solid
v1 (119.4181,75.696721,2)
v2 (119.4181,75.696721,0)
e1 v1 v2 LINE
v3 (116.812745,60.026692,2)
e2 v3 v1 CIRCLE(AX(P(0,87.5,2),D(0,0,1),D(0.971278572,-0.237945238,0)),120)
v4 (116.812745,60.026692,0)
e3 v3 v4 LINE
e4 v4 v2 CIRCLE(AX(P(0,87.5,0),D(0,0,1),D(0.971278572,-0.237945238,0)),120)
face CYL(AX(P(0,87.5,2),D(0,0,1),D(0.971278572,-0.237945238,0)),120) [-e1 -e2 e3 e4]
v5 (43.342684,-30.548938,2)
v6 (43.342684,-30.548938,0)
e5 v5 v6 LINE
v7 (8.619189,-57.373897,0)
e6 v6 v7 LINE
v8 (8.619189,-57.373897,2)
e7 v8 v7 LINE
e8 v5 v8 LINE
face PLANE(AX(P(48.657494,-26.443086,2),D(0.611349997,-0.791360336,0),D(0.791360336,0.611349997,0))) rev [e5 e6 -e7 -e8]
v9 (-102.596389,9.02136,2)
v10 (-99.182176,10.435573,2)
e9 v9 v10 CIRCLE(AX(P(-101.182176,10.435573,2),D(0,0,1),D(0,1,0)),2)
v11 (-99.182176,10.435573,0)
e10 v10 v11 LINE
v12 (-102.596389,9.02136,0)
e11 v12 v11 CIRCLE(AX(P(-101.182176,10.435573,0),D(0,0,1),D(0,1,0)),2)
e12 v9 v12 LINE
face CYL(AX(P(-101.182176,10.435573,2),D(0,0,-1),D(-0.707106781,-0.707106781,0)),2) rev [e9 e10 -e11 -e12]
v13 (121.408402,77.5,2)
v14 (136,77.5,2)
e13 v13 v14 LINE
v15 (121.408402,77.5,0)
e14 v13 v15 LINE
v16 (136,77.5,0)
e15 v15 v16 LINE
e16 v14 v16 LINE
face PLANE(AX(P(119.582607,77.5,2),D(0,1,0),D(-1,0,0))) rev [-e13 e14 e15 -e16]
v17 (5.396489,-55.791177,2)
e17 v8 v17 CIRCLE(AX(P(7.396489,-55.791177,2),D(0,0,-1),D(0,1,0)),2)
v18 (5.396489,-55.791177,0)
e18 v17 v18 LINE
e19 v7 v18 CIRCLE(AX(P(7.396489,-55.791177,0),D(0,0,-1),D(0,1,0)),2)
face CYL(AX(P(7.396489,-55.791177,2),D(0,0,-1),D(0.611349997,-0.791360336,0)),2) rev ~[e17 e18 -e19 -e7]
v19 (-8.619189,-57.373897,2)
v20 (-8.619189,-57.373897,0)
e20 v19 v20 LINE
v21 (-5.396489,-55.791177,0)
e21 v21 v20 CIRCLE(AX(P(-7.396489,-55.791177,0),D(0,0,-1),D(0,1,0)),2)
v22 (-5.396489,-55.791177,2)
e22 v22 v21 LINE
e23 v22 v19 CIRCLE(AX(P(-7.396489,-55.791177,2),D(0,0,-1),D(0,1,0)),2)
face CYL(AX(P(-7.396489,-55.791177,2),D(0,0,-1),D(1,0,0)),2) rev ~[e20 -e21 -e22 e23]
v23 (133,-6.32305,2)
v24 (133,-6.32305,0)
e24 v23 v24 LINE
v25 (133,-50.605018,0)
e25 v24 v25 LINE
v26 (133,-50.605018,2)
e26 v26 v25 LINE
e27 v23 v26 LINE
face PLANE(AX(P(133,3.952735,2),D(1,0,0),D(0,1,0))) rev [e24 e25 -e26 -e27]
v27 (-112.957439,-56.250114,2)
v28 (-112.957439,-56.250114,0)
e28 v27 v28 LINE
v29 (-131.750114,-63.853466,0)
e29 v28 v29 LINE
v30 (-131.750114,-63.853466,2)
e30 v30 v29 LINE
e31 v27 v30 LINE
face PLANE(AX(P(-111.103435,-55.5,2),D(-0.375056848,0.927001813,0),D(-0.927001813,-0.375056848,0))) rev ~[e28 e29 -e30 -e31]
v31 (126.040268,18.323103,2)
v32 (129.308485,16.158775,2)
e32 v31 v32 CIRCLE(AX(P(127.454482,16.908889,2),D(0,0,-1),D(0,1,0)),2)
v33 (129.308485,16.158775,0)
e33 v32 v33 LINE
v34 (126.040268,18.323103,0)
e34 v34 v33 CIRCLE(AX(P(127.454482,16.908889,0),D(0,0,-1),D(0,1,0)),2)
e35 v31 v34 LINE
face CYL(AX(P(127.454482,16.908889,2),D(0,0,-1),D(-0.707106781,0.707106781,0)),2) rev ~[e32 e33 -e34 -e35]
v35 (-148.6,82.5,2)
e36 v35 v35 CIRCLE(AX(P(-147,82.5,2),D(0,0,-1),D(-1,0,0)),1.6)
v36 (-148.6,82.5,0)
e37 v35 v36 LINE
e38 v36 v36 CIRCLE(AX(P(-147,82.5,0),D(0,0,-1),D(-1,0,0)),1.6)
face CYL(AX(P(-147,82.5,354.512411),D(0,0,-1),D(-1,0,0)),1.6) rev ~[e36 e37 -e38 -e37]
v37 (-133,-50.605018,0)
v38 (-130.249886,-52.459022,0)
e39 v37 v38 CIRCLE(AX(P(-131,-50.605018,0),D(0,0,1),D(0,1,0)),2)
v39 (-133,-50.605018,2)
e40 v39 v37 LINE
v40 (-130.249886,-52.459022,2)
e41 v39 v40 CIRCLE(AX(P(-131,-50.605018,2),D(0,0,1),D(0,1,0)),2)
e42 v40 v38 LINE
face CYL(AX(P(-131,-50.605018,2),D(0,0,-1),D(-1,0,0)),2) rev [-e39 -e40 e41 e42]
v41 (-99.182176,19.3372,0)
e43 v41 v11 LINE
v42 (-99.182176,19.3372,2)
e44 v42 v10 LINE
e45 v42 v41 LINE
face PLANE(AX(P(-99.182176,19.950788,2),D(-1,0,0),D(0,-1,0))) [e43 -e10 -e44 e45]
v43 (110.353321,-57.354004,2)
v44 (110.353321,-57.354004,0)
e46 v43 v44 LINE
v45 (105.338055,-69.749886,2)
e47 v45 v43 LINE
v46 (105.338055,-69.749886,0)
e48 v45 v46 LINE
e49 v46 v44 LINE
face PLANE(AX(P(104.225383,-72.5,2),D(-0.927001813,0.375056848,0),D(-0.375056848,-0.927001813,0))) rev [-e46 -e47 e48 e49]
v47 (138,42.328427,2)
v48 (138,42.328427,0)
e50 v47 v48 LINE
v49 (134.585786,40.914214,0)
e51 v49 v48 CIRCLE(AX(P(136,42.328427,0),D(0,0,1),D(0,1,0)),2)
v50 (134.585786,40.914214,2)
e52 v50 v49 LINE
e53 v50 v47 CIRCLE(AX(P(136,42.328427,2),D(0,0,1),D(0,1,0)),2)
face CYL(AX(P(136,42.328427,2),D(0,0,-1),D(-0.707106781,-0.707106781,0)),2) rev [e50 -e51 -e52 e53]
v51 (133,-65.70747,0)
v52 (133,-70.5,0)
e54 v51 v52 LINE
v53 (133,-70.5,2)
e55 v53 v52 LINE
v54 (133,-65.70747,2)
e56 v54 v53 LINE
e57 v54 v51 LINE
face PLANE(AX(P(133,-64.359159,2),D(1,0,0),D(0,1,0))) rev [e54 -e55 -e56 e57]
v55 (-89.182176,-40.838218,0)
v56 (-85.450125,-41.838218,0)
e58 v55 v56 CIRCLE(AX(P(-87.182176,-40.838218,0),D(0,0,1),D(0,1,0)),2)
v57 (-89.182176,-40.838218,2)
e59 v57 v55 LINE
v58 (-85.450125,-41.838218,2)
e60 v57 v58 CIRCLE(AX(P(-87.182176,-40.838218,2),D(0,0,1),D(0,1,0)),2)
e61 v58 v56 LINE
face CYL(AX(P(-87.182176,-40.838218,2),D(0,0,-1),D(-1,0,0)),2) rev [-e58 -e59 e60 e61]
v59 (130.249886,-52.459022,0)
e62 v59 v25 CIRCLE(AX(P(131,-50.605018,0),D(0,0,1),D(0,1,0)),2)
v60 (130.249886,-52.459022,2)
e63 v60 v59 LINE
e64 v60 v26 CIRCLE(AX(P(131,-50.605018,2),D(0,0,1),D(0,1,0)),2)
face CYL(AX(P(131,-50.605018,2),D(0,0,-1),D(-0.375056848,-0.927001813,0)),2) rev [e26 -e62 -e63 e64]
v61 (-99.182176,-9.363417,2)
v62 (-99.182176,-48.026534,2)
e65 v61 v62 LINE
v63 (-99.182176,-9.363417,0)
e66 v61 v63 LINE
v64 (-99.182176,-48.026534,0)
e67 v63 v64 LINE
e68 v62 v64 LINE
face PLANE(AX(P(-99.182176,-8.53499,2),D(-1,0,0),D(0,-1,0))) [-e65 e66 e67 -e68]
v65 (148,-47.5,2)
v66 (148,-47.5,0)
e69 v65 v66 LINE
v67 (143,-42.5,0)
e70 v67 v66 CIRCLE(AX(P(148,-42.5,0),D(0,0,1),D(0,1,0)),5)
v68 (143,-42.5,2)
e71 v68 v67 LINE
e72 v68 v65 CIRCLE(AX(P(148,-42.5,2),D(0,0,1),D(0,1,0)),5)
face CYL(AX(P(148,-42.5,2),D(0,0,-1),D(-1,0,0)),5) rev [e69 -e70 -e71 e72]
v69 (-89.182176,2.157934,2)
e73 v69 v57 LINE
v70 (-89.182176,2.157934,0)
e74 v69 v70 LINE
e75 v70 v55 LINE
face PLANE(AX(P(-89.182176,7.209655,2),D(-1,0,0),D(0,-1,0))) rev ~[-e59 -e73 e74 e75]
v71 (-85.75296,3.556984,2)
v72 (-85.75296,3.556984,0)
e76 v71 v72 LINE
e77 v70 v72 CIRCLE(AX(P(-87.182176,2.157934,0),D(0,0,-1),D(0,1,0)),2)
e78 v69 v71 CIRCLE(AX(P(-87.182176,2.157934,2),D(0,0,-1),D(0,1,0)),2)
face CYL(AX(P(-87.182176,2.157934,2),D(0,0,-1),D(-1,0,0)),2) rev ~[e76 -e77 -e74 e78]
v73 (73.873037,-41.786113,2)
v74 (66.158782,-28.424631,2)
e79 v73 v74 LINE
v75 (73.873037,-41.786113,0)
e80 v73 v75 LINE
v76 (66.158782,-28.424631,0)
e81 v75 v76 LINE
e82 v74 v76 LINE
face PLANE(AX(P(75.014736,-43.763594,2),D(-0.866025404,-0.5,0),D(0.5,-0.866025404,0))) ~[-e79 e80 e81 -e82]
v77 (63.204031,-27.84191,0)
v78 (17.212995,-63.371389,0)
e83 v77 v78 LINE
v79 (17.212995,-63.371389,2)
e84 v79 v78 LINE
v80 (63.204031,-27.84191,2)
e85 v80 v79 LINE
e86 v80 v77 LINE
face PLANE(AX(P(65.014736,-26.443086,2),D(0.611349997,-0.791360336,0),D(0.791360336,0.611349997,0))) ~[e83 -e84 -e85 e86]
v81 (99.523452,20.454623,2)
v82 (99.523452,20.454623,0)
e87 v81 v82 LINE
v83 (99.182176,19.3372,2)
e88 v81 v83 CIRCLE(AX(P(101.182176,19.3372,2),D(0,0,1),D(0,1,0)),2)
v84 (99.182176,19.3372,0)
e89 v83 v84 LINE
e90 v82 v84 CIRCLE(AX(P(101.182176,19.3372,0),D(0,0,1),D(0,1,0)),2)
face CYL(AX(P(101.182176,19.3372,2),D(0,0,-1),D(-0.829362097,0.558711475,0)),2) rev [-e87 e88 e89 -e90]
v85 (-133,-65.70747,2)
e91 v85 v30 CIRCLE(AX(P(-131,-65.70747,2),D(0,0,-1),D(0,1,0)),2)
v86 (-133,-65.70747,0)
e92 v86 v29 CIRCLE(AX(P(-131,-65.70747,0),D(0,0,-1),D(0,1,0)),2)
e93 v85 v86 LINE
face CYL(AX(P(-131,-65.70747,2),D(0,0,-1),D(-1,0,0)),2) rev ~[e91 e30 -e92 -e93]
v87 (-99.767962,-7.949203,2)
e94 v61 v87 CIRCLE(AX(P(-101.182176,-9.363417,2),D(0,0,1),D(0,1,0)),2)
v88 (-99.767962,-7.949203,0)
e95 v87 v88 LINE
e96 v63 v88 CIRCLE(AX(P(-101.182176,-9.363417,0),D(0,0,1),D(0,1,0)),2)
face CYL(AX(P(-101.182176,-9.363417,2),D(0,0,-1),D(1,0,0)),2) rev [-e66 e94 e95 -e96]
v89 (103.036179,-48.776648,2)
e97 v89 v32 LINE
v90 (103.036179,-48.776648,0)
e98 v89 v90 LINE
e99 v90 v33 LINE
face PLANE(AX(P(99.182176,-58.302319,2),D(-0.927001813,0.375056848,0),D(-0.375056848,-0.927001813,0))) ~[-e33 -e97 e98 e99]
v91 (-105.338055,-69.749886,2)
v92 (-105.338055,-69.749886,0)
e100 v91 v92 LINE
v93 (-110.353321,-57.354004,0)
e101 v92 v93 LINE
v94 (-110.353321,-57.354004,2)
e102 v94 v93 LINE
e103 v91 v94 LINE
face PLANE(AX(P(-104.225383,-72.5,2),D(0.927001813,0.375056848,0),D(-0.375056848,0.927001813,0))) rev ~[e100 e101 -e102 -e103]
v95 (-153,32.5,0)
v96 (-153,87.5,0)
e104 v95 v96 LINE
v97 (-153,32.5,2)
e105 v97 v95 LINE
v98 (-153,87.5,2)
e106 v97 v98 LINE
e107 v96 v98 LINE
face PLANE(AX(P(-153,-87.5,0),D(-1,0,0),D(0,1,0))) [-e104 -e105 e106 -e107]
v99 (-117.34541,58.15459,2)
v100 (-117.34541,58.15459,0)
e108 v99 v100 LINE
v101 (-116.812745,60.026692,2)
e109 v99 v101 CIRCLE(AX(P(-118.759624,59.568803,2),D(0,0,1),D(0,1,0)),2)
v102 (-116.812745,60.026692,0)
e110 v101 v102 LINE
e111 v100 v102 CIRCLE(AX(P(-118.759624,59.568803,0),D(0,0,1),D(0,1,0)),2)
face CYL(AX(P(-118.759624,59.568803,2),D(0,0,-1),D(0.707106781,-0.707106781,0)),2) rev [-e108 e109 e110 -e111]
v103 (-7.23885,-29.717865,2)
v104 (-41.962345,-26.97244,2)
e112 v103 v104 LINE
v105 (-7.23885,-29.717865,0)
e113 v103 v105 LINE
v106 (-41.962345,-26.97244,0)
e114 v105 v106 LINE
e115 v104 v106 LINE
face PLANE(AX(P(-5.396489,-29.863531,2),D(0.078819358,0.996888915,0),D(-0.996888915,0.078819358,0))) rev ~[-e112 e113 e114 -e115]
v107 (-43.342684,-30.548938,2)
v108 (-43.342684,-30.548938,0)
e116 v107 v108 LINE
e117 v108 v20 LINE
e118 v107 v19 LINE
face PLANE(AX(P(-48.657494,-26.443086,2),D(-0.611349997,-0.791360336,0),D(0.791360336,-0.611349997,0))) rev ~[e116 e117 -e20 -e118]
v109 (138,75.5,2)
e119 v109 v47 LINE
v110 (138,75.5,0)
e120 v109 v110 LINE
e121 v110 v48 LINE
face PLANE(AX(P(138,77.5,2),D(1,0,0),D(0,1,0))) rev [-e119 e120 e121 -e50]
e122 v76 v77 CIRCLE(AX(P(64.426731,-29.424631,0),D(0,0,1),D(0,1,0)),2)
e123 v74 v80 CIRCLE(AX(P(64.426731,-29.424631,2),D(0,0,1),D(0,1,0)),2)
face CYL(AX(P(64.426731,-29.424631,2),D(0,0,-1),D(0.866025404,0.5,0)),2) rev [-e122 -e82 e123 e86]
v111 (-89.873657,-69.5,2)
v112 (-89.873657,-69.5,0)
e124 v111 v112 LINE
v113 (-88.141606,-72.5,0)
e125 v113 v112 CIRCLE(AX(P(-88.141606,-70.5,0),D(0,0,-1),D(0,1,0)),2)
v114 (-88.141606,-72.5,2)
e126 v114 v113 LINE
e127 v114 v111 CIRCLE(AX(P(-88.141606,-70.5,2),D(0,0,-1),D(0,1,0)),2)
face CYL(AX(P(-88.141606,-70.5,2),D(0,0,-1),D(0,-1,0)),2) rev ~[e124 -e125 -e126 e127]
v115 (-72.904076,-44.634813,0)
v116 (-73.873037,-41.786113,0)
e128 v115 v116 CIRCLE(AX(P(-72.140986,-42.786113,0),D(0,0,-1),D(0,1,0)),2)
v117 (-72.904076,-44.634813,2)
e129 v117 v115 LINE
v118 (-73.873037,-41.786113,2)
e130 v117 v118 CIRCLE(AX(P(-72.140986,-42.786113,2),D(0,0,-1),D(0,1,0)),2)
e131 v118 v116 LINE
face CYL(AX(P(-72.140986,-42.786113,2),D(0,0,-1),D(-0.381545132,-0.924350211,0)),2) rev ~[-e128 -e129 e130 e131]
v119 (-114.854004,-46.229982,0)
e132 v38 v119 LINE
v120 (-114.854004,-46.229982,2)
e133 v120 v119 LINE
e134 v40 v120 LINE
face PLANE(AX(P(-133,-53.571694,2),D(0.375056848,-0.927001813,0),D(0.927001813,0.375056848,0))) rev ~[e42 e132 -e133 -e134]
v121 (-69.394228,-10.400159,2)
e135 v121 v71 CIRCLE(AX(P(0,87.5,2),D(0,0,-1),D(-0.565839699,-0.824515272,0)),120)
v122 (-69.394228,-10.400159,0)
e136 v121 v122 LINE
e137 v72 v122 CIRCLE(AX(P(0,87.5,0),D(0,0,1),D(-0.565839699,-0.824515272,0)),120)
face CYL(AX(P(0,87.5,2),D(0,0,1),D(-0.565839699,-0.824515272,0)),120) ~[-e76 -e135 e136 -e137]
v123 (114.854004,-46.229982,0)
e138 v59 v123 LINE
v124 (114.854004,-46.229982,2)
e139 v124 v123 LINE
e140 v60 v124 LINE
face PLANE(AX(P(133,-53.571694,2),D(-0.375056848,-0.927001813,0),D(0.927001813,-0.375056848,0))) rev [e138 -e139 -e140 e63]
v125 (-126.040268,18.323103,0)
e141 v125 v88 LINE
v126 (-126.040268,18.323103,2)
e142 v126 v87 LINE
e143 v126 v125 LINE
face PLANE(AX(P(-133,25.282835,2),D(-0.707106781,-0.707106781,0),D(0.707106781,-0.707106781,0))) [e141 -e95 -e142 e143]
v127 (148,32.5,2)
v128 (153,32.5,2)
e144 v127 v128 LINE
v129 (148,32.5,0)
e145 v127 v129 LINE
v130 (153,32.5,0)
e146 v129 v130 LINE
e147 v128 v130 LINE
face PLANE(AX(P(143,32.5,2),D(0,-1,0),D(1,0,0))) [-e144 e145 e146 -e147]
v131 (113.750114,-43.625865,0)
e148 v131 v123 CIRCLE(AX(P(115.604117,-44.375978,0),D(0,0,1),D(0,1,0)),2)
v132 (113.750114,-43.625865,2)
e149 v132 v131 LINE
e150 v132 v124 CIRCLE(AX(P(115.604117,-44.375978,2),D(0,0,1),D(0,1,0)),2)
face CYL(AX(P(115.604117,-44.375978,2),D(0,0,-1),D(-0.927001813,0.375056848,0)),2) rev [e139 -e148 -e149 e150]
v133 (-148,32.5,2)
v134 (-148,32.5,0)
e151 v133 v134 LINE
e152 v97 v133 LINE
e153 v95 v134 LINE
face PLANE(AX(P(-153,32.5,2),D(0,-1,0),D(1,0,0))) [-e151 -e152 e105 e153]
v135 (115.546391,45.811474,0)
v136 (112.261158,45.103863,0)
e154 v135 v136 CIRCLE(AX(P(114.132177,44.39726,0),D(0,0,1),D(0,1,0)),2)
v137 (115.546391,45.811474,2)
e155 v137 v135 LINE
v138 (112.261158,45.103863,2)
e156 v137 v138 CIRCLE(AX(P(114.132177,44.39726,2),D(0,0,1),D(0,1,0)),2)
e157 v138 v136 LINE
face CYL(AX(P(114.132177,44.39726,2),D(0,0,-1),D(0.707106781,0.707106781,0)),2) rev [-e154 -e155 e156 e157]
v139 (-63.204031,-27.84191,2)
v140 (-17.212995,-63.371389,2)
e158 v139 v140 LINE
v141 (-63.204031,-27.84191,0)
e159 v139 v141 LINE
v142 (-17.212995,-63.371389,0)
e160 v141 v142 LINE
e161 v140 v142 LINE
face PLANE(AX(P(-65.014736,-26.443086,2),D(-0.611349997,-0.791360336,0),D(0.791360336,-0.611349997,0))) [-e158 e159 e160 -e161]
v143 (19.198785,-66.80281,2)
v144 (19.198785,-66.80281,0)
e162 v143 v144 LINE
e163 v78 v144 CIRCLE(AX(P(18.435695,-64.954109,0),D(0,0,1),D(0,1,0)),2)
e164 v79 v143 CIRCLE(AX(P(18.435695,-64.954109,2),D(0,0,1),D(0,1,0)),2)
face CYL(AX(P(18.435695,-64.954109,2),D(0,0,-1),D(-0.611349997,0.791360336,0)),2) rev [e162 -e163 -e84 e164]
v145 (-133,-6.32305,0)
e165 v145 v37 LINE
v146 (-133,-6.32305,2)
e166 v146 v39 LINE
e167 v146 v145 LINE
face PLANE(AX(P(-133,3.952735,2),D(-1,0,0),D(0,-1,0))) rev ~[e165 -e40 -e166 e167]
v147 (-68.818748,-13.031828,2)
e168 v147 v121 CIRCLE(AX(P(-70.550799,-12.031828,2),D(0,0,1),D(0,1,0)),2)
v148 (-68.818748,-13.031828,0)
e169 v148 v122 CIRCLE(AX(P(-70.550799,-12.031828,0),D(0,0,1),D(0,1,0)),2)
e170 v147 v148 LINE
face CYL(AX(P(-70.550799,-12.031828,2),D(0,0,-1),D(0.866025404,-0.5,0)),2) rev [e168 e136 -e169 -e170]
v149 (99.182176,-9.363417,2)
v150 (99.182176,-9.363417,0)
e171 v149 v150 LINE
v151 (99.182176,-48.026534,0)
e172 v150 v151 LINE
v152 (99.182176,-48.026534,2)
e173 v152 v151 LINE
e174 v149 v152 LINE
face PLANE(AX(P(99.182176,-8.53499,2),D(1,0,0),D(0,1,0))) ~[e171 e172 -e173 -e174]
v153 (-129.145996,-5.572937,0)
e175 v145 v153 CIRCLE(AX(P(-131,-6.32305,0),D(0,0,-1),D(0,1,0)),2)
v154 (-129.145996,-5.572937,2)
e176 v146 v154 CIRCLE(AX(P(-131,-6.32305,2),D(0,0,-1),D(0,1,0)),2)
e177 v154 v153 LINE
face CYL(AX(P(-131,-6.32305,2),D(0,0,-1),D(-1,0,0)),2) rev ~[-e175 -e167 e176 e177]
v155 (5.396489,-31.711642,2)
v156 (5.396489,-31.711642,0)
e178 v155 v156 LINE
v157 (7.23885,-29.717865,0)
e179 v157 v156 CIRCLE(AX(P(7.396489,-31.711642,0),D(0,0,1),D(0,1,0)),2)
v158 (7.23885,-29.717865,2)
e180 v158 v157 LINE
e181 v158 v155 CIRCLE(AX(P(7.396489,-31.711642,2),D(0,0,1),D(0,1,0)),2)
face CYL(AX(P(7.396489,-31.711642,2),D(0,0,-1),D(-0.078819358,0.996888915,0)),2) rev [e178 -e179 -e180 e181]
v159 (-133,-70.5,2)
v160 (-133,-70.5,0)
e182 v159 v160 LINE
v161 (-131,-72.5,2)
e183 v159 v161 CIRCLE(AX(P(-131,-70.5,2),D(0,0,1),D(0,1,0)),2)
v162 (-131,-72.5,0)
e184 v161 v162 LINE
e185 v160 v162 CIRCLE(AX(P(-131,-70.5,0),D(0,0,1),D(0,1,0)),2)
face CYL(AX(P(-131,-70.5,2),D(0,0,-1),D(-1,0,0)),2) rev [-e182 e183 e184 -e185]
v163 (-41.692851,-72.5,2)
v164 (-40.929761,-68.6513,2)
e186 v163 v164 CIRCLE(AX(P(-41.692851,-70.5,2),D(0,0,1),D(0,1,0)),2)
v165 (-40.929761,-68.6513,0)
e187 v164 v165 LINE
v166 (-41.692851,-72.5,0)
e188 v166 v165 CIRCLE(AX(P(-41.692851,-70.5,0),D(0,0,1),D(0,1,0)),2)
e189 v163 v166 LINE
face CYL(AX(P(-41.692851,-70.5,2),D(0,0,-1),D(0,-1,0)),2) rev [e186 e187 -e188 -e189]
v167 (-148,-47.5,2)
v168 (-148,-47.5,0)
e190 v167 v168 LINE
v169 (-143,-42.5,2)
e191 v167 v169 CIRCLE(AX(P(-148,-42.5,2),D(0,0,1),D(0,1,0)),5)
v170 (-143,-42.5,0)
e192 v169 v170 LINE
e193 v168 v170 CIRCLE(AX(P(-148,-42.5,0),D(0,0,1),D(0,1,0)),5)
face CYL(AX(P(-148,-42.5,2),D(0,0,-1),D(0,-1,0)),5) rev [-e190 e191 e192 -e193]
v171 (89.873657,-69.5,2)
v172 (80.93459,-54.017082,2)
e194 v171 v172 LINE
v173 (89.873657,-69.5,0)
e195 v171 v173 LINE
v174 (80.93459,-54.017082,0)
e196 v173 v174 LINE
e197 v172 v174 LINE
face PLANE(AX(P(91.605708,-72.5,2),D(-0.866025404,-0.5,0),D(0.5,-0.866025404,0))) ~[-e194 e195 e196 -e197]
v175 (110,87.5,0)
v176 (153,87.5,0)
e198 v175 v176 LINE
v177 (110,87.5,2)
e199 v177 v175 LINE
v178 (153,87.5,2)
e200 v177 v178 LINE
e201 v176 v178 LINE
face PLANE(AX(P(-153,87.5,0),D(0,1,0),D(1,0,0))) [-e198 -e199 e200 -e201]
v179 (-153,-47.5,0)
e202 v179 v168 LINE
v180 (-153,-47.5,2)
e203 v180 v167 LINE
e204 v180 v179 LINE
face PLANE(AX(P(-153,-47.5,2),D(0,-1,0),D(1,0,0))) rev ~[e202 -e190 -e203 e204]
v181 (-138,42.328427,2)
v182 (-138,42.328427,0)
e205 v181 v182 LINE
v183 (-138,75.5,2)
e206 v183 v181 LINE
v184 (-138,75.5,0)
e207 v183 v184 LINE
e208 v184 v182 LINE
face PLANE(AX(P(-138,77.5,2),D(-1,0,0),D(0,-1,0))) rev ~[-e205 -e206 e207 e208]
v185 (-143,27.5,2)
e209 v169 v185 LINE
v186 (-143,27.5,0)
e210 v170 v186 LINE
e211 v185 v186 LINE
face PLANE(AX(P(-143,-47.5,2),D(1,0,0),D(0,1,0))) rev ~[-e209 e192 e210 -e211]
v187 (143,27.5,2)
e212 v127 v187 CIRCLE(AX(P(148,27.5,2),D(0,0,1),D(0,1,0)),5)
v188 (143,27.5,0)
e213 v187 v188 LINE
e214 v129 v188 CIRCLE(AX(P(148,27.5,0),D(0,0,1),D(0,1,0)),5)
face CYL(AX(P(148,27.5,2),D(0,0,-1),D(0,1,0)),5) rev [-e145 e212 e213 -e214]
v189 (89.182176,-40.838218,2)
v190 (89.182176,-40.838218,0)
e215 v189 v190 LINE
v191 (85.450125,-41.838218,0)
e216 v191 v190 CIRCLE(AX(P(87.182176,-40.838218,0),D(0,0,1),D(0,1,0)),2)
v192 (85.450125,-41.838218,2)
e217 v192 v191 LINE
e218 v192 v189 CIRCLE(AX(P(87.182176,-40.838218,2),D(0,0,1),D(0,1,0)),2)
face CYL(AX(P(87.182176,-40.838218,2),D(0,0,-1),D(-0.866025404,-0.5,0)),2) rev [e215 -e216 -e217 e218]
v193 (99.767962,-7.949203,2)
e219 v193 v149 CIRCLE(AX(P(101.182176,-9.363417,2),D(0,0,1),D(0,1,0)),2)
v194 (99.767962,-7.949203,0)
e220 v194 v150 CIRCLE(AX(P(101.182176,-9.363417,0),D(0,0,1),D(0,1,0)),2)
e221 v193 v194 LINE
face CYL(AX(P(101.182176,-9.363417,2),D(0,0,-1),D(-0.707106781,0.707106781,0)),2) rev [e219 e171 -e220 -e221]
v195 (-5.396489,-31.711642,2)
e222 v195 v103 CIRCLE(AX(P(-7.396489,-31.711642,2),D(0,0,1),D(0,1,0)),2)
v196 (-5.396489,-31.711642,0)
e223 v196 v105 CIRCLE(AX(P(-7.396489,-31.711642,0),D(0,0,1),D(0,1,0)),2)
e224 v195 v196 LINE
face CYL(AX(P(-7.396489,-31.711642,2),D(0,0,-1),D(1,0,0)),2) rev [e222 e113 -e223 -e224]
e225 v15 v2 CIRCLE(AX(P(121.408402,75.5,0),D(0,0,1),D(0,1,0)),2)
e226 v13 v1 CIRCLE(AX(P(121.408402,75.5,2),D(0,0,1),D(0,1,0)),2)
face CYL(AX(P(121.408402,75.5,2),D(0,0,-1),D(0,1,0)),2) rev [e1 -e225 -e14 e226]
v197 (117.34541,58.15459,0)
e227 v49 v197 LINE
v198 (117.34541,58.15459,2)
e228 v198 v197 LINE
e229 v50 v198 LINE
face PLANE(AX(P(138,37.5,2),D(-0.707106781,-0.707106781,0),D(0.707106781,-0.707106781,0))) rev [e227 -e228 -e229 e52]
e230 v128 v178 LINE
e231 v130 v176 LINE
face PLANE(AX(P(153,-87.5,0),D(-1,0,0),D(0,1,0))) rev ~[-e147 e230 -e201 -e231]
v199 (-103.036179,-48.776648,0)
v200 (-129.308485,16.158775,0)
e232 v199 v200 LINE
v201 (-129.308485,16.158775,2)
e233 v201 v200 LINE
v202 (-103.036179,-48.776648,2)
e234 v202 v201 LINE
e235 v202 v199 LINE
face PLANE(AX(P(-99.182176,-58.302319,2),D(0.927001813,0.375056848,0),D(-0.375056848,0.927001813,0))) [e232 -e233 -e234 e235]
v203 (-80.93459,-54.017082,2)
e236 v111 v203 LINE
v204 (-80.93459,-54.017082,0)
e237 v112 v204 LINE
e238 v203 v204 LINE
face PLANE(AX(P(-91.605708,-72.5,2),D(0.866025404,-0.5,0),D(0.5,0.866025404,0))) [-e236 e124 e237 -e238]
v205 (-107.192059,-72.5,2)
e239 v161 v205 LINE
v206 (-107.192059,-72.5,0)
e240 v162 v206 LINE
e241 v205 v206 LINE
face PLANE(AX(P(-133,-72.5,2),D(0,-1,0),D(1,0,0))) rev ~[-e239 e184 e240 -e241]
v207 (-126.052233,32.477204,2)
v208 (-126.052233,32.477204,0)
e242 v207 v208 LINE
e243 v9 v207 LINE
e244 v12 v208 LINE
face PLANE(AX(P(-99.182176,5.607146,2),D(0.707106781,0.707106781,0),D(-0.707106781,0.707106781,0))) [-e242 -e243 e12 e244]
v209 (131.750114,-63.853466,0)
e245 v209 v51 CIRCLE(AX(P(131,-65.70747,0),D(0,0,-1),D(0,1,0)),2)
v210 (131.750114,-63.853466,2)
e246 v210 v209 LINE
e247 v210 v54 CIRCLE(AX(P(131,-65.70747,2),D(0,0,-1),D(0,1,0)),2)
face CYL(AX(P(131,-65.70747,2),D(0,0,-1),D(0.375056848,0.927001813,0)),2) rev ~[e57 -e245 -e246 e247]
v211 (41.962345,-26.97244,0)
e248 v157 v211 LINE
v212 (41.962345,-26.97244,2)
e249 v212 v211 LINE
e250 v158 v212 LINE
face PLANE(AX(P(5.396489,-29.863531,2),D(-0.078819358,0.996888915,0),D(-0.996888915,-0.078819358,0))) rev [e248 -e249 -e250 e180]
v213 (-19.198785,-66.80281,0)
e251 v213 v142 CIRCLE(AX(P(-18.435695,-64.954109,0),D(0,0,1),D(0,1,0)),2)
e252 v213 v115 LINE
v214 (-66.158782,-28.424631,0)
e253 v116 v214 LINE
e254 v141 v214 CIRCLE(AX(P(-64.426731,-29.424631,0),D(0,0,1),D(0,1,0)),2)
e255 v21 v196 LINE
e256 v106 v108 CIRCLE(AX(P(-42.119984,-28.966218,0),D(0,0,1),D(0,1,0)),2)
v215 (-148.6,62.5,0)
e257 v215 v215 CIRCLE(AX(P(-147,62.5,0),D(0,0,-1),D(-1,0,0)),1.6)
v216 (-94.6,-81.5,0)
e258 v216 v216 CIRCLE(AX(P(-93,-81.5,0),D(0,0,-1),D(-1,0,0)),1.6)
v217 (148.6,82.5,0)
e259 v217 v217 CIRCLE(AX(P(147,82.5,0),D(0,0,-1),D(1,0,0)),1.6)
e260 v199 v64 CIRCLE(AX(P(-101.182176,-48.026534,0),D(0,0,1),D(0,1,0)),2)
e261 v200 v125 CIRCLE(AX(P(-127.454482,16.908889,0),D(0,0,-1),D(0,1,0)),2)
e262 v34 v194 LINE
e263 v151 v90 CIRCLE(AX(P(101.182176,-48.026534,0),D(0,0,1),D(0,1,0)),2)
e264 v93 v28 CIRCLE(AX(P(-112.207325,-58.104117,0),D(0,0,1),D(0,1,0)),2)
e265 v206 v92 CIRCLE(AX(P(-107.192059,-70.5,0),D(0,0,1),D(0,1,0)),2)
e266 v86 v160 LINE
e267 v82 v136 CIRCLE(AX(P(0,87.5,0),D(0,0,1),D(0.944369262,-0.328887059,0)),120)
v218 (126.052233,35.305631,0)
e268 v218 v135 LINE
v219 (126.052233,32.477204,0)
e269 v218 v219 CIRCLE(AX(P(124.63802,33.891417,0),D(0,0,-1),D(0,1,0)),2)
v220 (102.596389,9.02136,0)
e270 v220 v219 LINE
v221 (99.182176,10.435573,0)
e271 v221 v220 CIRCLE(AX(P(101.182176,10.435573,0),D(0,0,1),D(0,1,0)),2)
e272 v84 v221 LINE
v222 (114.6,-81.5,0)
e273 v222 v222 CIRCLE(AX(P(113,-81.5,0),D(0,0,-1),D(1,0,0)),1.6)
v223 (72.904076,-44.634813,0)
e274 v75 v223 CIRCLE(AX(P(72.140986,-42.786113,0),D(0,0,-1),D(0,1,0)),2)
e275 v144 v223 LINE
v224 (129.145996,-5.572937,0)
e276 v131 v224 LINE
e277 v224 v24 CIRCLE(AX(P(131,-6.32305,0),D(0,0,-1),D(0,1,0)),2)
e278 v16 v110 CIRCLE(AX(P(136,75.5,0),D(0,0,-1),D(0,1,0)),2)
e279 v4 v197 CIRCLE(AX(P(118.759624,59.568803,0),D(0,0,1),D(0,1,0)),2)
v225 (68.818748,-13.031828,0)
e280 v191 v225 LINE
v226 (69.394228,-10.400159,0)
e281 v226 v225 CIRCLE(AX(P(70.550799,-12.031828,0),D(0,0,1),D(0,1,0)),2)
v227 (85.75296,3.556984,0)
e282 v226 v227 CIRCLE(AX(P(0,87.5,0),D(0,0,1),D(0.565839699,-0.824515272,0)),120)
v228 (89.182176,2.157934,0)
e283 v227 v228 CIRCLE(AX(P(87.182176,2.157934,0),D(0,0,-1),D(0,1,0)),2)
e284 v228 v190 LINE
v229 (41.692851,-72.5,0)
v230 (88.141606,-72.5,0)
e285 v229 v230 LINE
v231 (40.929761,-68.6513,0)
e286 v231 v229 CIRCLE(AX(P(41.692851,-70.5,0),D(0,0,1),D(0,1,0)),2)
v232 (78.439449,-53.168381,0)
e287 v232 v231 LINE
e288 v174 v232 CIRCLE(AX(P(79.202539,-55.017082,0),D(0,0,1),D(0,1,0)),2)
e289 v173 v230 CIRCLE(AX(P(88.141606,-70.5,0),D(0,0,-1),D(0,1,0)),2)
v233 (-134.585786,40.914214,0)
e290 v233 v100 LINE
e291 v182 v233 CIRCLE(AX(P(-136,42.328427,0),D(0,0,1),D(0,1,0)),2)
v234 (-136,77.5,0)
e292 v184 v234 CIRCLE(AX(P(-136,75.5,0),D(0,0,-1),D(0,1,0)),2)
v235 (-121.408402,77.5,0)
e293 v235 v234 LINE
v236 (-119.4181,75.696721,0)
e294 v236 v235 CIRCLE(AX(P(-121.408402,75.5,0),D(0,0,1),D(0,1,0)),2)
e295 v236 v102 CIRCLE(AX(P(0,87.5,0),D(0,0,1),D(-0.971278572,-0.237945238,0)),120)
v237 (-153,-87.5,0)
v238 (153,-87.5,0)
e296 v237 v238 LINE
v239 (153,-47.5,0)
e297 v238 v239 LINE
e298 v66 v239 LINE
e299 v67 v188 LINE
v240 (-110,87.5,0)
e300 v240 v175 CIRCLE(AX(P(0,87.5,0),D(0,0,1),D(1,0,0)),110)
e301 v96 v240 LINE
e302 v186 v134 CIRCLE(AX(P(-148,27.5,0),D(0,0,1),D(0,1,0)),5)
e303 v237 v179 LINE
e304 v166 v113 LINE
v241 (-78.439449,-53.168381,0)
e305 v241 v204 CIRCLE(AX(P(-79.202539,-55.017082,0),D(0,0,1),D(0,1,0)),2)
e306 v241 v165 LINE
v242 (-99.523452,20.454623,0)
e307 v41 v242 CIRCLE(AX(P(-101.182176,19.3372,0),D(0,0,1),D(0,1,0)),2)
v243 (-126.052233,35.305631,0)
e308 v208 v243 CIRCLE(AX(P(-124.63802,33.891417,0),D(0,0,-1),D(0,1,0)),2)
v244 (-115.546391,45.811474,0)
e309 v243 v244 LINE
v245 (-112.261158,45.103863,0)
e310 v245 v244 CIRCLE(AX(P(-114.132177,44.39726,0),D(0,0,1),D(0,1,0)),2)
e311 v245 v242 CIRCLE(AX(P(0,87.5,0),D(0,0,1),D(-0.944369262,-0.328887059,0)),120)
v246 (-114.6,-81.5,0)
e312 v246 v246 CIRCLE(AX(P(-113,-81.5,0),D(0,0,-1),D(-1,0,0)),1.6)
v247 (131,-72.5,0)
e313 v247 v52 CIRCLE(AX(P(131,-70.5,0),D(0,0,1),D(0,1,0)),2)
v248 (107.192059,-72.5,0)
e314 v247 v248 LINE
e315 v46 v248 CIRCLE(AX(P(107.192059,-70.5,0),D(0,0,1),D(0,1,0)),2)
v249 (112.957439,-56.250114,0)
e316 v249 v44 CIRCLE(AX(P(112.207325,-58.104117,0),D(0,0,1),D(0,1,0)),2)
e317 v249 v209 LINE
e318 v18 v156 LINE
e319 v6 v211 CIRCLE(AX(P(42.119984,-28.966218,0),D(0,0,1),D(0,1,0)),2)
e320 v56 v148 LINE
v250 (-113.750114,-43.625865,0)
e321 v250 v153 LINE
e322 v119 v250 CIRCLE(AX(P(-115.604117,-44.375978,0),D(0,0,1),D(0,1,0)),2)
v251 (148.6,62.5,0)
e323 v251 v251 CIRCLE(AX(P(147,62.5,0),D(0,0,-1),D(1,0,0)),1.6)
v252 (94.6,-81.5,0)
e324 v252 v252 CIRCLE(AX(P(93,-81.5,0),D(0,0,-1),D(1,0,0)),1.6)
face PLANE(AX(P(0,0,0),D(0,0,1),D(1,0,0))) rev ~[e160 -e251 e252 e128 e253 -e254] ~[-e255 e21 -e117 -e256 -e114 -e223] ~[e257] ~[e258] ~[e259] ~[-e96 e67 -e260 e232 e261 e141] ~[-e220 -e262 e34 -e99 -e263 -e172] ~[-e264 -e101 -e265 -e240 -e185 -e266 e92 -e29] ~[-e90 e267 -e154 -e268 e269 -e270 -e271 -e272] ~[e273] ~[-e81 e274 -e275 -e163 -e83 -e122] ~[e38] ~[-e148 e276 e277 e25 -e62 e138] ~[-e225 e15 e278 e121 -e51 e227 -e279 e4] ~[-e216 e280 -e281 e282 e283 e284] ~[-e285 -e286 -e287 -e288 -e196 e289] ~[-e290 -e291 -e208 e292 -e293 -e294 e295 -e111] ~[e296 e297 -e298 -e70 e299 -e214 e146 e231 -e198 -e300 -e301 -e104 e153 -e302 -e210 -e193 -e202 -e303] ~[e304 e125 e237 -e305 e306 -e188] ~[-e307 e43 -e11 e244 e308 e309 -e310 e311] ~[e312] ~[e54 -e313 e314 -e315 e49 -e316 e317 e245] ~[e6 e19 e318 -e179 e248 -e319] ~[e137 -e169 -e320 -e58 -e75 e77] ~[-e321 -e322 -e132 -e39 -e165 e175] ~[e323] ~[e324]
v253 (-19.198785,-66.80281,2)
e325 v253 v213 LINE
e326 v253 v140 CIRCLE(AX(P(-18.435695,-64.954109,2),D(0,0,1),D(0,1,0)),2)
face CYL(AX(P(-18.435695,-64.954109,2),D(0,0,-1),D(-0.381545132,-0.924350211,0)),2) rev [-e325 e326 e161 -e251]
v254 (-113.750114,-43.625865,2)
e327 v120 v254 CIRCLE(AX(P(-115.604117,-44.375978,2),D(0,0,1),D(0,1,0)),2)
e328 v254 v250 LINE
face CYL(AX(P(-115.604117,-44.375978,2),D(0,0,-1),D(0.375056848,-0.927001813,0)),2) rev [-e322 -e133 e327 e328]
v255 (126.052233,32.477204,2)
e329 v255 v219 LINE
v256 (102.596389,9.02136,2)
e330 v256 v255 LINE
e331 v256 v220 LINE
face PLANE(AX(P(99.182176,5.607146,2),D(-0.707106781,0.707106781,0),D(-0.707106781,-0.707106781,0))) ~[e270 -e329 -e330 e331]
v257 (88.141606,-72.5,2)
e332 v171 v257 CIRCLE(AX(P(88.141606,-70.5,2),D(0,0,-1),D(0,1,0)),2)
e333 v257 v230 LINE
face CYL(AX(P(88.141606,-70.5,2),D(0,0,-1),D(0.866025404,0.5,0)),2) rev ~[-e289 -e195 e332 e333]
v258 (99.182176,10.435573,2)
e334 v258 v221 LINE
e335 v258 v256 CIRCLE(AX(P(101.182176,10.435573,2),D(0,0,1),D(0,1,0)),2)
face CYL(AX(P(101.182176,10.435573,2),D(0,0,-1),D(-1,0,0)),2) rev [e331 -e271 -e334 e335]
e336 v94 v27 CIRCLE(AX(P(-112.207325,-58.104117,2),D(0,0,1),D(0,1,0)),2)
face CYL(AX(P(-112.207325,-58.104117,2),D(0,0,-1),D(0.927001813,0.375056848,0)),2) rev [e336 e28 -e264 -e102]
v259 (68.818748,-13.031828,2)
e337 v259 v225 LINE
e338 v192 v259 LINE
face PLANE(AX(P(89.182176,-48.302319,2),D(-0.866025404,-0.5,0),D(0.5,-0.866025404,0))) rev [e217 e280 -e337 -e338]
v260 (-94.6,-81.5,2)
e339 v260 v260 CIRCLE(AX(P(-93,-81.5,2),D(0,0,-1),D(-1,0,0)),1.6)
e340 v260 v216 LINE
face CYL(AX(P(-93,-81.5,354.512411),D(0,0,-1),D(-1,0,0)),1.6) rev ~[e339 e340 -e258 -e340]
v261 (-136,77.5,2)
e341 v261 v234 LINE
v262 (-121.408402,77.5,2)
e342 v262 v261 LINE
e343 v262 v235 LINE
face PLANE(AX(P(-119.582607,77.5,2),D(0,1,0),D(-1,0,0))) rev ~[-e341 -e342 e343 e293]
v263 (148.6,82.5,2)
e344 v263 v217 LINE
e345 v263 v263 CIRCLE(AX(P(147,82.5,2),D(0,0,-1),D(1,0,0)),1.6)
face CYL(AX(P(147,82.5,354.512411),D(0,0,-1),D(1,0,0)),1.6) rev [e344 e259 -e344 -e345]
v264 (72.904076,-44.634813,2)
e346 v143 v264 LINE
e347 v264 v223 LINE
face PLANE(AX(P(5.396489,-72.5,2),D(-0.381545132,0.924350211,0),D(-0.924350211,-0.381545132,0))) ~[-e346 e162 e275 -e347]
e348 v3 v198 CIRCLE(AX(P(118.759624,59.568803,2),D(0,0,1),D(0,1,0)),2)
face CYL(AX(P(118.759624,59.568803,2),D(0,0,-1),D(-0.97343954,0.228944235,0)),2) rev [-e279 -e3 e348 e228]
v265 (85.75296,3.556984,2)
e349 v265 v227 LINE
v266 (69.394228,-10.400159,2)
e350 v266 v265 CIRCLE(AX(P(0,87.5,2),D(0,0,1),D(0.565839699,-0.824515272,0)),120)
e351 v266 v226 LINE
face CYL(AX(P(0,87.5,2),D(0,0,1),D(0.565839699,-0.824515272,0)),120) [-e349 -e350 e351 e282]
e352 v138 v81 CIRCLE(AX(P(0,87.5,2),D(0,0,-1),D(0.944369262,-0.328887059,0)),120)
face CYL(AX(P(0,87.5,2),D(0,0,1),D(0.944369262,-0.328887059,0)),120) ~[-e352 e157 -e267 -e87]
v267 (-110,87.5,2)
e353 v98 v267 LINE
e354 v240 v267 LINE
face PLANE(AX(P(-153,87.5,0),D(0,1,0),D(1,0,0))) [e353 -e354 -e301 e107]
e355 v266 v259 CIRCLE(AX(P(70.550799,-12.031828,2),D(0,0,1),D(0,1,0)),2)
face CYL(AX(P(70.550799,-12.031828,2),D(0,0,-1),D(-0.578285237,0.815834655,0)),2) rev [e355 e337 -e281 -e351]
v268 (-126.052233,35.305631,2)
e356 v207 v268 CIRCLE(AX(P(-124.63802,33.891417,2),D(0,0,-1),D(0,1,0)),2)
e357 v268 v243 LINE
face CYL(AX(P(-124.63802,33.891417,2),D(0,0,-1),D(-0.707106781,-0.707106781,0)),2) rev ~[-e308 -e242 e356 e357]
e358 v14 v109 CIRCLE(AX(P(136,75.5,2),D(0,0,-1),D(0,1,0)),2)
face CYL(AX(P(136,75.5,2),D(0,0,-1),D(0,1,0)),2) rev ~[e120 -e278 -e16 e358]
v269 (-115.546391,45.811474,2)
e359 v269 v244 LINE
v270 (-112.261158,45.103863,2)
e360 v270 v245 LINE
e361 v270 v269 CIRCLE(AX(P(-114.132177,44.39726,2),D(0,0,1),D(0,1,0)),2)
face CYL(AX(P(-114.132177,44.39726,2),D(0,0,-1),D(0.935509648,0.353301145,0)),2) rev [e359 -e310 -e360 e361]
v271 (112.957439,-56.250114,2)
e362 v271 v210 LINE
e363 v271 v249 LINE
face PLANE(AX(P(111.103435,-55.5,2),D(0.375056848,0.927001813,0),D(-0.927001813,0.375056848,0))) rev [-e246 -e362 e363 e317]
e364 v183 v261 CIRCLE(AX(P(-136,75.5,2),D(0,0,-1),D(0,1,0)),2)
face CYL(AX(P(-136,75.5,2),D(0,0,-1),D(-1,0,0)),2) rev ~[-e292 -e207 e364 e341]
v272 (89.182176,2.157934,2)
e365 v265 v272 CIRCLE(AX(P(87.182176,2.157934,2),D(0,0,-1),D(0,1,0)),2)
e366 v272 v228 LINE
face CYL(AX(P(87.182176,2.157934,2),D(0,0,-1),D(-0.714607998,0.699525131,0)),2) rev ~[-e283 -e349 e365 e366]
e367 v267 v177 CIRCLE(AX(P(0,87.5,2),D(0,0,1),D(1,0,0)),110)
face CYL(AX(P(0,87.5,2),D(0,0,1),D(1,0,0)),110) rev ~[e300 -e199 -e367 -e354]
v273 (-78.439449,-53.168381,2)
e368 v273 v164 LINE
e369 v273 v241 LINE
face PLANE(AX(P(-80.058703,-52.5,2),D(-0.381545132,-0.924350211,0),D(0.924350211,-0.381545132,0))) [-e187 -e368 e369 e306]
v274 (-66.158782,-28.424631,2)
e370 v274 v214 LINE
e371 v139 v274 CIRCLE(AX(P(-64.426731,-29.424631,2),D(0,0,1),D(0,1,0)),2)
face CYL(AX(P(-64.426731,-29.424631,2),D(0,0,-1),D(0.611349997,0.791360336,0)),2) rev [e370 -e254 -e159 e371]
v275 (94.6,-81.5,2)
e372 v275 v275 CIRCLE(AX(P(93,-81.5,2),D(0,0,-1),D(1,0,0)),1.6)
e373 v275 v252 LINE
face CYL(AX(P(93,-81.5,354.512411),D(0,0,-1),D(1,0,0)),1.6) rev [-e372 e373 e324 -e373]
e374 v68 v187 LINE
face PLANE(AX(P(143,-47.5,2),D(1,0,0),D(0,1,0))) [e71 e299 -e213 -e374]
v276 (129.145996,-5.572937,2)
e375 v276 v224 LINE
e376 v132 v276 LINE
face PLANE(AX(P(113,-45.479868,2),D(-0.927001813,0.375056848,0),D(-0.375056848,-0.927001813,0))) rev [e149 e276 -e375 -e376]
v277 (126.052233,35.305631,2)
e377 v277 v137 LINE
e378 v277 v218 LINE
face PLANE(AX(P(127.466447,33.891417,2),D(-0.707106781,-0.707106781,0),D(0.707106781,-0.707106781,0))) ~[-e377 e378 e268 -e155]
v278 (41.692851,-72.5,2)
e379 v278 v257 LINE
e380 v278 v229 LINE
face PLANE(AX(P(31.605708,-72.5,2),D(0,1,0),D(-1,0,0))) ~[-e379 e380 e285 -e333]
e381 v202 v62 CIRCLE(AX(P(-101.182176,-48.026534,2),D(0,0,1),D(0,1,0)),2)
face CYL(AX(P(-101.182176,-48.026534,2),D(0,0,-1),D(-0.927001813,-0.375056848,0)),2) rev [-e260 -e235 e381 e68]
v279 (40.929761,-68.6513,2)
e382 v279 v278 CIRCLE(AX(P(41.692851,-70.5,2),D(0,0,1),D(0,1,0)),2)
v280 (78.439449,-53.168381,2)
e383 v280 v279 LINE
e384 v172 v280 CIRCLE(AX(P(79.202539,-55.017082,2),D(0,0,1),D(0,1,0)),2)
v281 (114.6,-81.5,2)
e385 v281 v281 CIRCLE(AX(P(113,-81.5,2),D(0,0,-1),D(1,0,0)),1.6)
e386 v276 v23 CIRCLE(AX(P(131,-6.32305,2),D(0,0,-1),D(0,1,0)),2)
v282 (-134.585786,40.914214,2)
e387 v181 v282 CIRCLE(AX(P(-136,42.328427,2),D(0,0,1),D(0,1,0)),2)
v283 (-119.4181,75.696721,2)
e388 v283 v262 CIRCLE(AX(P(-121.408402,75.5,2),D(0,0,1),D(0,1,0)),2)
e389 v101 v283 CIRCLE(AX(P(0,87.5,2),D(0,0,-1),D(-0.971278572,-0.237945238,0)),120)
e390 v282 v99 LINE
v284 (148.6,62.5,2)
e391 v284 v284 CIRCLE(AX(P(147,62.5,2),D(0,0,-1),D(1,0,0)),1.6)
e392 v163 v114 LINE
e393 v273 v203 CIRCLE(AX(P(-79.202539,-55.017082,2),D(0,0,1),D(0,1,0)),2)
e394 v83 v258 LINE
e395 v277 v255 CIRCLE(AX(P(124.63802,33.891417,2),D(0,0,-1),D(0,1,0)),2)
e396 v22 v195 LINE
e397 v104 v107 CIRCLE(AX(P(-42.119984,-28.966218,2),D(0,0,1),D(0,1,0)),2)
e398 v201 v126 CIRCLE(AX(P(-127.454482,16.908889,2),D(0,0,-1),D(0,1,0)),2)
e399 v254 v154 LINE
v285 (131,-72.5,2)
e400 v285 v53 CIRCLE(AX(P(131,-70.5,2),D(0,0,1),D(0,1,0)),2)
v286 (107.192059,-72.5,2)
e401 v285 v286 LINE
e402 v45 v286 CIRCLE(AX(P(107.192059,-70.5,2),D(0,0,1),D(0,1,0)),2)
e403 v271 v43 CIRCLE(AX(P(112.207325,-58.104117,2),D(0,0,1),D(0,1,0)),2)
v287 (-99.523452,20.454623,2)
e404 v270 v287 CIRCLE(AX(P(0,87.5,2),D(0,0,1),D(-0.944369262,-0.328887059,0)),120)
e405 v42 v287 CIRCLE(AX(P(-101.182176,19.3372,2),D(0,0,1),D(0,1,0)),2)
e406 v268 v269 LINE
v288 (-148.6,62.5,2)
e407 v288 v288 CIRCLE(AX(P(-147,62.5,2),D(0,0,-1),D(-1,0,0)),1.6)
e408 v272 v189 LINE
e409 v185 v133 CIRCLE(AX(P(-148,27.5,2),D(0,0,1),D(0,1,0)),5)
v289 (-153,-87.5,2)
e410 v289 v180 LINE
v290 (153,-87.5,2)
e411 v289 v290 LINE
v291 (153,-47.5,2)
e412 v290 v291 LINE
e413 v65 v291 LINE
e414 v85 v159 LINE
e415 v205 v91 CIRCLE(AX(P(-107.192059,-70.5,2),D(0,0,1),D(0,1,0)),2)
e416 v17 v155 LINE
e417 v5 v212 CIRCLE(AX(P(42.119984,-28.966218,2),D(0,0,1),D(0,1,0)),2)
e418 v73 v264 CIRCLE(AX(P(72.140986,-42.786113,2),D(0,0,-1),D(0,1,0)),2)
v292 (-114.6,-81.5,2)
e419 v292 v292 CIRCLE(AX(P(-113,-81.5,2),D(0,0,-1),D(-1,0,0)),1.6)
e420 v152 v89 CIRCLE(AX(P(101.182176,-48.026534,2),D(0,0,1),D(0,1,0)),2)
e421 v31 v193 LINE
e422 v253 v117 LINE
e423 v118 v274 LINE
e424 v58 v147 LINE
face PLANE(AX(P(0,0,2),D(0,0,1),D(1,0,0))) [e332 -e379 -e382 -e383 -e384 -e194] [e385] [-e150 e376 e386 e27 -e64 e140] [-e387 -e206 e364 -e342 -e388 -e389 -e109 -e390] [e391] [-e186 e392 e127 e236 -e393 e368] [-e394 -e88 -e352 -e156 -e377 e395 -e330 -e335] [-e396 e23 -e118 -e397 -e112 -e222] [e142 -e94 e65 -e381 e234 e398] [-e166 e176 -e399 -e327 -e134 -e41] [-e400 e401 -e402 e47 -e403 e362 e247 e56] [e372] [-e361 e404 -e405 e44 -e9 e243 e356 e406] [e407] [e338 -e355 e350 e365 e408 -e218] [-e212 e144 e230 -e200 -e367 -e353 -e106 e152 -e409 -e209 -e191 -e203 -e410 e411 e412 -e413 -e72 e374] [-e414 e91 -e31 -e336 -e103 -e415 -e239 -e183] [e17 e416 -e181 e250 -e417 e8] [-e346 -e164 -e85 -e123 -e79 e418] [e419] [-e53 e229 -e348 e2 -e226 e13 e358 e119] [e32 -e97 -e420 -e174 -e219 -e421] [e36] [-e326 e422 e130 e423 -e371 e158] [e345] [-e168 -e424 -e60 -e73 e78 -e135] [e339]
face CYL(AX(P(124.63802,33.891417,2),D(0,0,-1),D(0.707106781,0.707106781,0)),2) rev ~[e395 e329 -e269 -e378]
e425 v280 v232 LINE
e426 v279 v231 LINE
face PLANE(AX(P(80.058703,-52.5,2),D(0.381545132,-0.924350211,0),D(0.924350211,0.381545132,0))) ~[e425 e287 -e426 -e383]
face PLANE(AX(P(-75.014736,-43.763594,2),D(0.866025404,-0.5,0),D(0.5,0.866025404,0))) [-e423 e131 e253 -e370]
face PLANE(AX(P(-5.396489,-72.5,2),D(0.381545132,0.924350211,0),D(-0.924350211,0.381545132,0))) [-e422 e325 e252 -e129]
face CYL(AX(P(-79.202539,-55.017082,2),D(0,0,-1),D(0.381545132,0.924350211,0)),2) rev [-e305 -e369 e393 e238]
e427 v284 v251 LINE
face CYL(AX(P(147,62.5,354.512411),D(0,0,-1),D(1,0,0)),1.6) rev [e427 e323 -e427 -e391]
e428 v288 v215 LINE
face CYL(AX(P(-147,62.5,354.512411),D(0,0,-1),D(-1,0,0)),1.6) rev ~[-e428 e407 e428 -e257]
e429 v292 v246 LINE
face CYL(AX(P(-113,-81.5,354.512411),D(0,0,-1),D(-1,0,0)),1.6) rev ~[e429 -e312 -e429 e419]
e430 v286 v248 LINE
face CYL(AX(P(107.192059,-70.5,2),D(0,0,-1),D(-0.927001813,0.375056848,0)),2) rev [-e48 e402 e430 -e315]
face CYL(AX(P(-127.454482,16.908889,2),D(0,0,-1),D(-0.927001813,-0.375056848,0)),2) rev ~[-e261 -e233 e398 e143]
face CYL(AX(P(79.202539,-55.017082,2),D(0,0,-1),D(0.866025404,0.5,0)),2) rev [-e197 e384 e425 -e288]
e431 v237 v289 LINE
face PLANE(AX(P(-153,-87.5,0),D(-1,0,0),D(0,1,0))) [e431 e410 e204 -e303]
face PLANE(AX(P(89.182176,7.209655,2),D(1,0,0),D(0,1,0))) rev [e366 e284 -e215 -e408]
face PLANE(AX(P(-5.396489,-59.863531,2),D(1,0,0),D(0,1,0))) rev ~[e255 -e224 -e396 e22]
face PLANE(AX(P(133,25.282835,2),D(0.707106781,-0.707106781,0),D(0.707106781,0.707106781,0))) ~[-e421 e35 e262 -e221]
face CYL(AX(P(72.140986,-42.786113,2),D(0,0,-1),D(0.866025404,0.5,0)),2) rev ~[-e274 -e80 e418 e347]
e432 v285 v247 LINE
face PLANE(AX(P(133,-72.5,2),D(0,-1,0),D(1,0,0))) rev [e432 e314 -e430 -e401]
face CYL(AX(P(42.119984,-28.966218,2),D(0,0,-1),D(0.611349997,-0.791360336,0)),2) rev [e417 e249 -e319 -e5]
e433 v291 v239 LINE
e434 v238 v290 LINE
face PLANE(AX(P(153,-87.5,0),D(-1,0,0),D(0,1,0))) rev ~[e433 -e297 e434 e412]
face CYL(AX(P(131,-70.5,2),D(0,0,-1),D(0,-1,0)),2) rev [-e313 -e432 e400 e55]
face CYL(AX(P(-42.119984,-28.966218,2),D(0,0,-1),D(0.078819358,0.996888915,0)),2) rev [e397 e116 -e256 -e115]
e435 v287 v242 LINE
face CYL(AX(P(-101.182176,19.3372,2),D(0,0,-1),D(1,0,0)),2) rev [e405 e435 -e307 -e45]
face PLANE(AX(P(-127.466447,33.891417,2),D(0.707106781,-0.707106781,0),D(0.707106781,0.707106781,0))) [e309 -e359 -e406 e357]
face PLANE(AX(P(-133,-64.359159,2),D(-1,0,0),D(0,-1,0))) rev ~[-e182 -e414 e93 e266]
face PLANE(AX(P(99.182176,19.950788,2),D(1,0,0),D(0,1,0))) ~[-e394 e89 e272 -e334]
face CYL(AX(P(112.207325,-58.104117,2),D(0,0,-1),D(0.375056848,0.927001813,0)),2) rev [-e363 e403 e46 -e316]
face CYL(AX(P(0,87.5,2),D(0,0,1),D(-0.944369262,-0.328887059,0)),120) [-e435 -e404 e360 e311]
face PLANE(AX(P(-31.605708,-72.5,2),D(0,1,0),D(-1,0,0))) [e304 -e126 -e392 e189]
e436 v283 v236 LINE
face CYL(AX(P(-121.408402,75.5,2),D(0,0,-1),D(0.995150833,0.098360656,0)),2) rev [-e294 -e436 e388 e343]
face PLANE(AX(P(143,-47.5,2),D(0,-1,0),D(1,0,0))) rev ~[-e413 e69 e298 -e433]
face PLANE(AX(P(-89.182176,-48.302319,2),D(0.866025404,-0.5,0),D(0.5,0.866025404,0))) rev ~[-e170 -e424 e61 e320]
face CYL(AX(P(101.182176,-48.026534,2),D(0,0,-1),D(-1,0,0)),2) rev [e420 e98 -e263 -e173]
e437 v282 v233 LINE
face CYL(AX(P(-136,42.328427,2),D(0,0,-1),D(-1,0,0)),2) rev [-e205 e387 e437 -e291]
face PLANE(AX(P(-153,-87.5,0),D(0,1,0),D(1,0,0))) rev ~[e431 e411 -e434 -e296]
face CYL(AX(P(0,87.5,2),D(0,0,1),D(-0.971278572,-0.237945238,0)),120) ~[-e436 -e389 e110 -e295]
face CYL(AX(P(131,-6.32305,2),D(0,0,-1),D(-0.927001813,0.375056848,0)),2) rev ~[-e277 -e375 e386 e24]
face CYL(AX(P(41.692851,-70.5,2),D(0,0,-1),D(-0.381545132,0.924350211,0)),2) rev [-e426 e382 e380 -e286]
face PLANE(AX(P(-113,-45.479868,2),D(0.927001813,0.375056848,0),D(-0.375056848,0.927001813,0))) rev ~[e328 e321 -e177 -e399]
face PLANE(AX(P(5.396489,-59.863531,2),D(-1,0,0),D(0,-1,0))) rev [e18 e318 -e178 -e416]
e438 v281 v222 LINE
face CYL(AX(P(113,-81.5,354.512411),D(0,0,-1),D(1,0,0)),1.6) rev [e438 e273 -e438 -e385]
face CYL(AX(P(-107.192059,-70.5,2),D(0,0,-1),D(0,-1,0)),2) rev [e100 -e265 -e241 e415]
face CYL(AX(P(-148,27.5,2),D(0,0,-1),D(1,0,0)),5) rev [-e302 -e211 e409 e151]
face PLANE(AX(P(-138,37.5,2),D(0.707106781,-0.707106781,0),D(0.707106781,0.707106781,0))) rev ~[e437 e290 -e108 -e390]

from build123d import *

# Parameters (mm, degrees)
SKETCH_1_W              = 306
SKETCH_1_H              = 175
EXTRUDE_1_DEPTH         = 2
SKETCH_2_R              = 110
SKETCH_2_W              = 10
SKETCH_2_H              = 80
CUT_EXTRUDE_1_DEPTH     = 177.264715698
FILLET_1_R              = 5
HOLE_WIZARD_3_2_3_2_1_D = 3.2
HOLE_WIZARD_3_2_3_2_2_D = 3.2
CUT_EXTRUDE_2_DEPTH     = 10
FILLET_2_R              = 2
FILLET_2_OF_MIRROR_3_R  = 2


with BuildPart() as part:
    # 草图1 → 凸台-拉伸1 (new body)
    with BuildSketch(Plane.XY):
        Rectangle(SKETCH_1_W, SKETCH_1_H)
    extrude(amount=EXTRUDE_1_DEPTH)

    # 草图2 → 切除-拉伸1 (cut, through all)
    with BuildSketch(Plane.XY.offset(2)):
        with Locations((0, 87.5)):
            Circle(SKETCH_2_R)
        with Locations((-148, -7.5)):
            Rectangle(SKETCH_2_W, SKETCH_2_H)
        with Locations((148, -7.5)):
            Rectangle(SKETCH_2_W, SKETCH_2_H)
    extrude(amount=-CUT_EXTRUDE_1_DEPTH, mode=Mode.SUBTRACT)

    # 圆角1
    fillet_1_edges = [part.edges().sort_by_distance(p)[0] for p in [
        (143, -47.5, 1),
        (143, 32.5, 1),
        (-143, 32.5, 1),
        (-143, -47.5, 1),
    ]]
    fillet(fillet_1_edges, radius=FILLET_1_R)

    # Ø3.2 (3.2) 直径孔1 (through all)
    with Locations(Plane(origin=(-147, 82.5, 2), x_dir=(1, 0, 0), z_dir=(0, 0, 1))):
        with Locations((0, 0), (0, -20)):
            hole_wizard_3_2_3_2_1 = Hole(HOLE_WIZARD_3_2_3_2_1_D / 2)

    # 镜向1: Ø3.2 (3.2) 直径孔1 across plane
    add(hole_wizard_3_2_3_2_1.mirror(Plane(origin=(0, 0, 0), x_dir=(0, 0, 1), z_dir=(1, 0, 0))), mode=Mode.SUBTRACT)

    # Ø3.2 (3.2) 直径孔2 (through all)
    with Locations(Plane(origin=(-113, -81.5, 2), x_dir=(1, 0, 0), z_dir=(0, 0, 1))):
        with Locations((0, 0), (20, 0)):
            hole_wizard_3_2_3_2_2 = Hole(HOLE_WIZARD_3_2_3_2_2_D / 2)

    # 镜向2: Ø3.2 (3.2) 直径孔2 across plane
    add(hole_wizard_3_2_3_2_2.mirror(Plane(origin=(0, 0, 0), x_dir=(0, 0, 1), z_dir=(1, 0, 0))), mode=Mode.SUBTRACT)

    # 草图7 → 切除-拉伸2 (cut)
    with BuildSketch(Plane.XY.offset(2)):
        with BuildLine():
            Line((-138, 77.5), (-138, 37.5))
            Line((-138, 37.5), (-116.553428589, 58.946571411))
            ThreePointArc((-116.553428589, 58.946571411), (-118.431897329, 68.163875903), (-119.582607431, 77.5))
            Line((-119.582607431, 77.5), (-138, 77.5))
        make_face()
        with BuildLine():
            Line((-127.46644704, 33.891417336), (-113.324311416, 48.03355296))
            ThreePointArc((-113.324311416, 48.03355296), (-107.177013369, 33.526971501), (-99.182175793, 19.950788272))
            Line((-99.182175793, 19.950788272), (-99.182175793, 5.607146089))
            Line((-99.182175793, 5.607146089), (-127.46644704, 33.891417336))
        make_face()
        Polygon((-133, 25.282834672), (-99.182175793, -8.534989535), (-99.182175793, -58.302319282), align=None)
        Polygon((-133, 3.952734845), (-133, -53.571693723), (-113, -45.479868176), align=None)
        Polygon((-133, -64.359159143), (-133, -72.5), (-104.225383435, -72.5), (-111.10343515, -55.5), align=None)
        with BuildLine():
            Line((-89.182175793, 7.209654871), (-89.182175793, -48.302319282))
            Line((-89.182175793, -48.302319282), (-67.900763938, -11.441832693))
            ThreePointArc((-67.900763938, -11.441832693), (-79.093185457, -2.74559831), (-89.182175793, 7.209654871))
        make_face()
        Polygon((-91.605707885, -72.5), (-80.058702502, -52.5), (-31.605707885, -72.5), align=None)
        Polygon((-75.014735912, -43.763593595), (-65.014735912, -26.44308552), (-5.396488671, -72.5), align=None)
        Polygon((-5.396488671, -59.863531439), (-5.396488671, -29.863531439), (-48.657493674, -26.44308552), align=None)
    cut_extrude_2 = extrude(amount=-CUT_EXTRUDE_2_DEPTH, mode=Mode.SUBTRACT)

    # 圆角2
    fillet_2_edges = [part.edges().sort_by_distance(p)[0] for p in [
        (-89.182175793, 7.209654871, 1),
        (-67.900763938, -11.441832693, 1),
        (-89.182175793, -48.302319282, 1),
        (-31.605707885, -72.5, 1),
        (-91.605707885, -72.5, 1),
        (-80.058702502, -52.5, 1),
        (-48.657493674, -26.44308552, 1),
        (-5.396488671, -29.863531439, 1),
        (-5.396488671, -59.863531439, 1),
        (-5.396488671, -72.5, 1),
        (-75.014735912, -43.763593595, 1),
        (-65.014735912, -26.44308552, 1),
        (-104.225383435, -72.5, 1),
        (-133, -72.5, 1),
        (-133, -64.359159143, 1),
        (-111.10343515, -55.5, 1),
        (-99.182175793, 5.607146089, 1),
        (-127.46644704, 33.891417336, 1),
        (-113.324311416, 48.03355296, 1),
        (-99.182175793, 19.950788272, 1),
        (-133, 3.952734845, 1),
        (-113, -45.479868176, 1),
        (-133, -53.571693723, 1),
        (-99.182175793, -58.302319282, 1),
        (-133, 25.282834672, 1),
        (-99.182175793, -8.534989535, 1),
        (-138, 77.5, 1),
        (-119.582607431, 77.5, 1),
        (-116.553428589, 58.946571411, 1),
        (-138, 37.5, 1),
    ]]
    fillet(fillet_2_edges, radius=FILLET_2_R)

    # 镜向3: 切除-拉伸2 across plane
    add(cut_extrude_2.mirror(Plane(origin=(0, 0, 0), x_dir=(0, 0, 1), z_dir=(1, 0, 0))), mode=Mode.SUBTRACT)

    # 圆角2 of 镜向3
    fillet_2_of_mirror_3_edges = [part.edges().sort_by_distance(p)[0] for p in [
        (89.182175793, 7.209654871, 1),
        (67.900763938, -11.441832693, 1),
        (89.182175793, -48.302319282, 1),
        (31.605707885, -72.5, 1),
        (91.605707885, -72.5, 1),
        (80.058702502, -52.5, 1),
        (48.657493674, -26.44308552, 1),
        (5.396488671, -29.863531439, 1),
        (5.396488671, -59.863531439, 1),
        (5.396488671, -72.5, 1),
        (75.014735912, -43.763593595, 1),
        (65.014735912, -26.44308552, 1),
        (104.225383435, -72.5, 1),
        (133, -72.5, 1),
        (133, -64.359159143, 1),
        (111.10343515, -55.5, 1),
        (99.182175793, 5.607146089, 1),
        (127.46644704, 33.891417336, 1),
        (113.324311416, 48.03355296, 1),
        (99.182175793, 19.950788272, 1),
        (133, 3.952734845, 1),
        (113, -45.479868176, 1),
        (133, -53.571693723, 1),
        (99.182175793, -58.302319282, 1),
        (133, 25.282834672, 1),
        (99.182175793, -8.534989535, 1),
        (138, 77.5, 1),
        (119.582607431, 77.5, 1),
        (116.553428589, 58.946571411, 1),
        (138, 37.5, 1),
    ]]
    fillet(fillet_2_of_mirror_3_edges, radius=FILLET_2_OF_MIRROR_3_R)


solid = part.part
